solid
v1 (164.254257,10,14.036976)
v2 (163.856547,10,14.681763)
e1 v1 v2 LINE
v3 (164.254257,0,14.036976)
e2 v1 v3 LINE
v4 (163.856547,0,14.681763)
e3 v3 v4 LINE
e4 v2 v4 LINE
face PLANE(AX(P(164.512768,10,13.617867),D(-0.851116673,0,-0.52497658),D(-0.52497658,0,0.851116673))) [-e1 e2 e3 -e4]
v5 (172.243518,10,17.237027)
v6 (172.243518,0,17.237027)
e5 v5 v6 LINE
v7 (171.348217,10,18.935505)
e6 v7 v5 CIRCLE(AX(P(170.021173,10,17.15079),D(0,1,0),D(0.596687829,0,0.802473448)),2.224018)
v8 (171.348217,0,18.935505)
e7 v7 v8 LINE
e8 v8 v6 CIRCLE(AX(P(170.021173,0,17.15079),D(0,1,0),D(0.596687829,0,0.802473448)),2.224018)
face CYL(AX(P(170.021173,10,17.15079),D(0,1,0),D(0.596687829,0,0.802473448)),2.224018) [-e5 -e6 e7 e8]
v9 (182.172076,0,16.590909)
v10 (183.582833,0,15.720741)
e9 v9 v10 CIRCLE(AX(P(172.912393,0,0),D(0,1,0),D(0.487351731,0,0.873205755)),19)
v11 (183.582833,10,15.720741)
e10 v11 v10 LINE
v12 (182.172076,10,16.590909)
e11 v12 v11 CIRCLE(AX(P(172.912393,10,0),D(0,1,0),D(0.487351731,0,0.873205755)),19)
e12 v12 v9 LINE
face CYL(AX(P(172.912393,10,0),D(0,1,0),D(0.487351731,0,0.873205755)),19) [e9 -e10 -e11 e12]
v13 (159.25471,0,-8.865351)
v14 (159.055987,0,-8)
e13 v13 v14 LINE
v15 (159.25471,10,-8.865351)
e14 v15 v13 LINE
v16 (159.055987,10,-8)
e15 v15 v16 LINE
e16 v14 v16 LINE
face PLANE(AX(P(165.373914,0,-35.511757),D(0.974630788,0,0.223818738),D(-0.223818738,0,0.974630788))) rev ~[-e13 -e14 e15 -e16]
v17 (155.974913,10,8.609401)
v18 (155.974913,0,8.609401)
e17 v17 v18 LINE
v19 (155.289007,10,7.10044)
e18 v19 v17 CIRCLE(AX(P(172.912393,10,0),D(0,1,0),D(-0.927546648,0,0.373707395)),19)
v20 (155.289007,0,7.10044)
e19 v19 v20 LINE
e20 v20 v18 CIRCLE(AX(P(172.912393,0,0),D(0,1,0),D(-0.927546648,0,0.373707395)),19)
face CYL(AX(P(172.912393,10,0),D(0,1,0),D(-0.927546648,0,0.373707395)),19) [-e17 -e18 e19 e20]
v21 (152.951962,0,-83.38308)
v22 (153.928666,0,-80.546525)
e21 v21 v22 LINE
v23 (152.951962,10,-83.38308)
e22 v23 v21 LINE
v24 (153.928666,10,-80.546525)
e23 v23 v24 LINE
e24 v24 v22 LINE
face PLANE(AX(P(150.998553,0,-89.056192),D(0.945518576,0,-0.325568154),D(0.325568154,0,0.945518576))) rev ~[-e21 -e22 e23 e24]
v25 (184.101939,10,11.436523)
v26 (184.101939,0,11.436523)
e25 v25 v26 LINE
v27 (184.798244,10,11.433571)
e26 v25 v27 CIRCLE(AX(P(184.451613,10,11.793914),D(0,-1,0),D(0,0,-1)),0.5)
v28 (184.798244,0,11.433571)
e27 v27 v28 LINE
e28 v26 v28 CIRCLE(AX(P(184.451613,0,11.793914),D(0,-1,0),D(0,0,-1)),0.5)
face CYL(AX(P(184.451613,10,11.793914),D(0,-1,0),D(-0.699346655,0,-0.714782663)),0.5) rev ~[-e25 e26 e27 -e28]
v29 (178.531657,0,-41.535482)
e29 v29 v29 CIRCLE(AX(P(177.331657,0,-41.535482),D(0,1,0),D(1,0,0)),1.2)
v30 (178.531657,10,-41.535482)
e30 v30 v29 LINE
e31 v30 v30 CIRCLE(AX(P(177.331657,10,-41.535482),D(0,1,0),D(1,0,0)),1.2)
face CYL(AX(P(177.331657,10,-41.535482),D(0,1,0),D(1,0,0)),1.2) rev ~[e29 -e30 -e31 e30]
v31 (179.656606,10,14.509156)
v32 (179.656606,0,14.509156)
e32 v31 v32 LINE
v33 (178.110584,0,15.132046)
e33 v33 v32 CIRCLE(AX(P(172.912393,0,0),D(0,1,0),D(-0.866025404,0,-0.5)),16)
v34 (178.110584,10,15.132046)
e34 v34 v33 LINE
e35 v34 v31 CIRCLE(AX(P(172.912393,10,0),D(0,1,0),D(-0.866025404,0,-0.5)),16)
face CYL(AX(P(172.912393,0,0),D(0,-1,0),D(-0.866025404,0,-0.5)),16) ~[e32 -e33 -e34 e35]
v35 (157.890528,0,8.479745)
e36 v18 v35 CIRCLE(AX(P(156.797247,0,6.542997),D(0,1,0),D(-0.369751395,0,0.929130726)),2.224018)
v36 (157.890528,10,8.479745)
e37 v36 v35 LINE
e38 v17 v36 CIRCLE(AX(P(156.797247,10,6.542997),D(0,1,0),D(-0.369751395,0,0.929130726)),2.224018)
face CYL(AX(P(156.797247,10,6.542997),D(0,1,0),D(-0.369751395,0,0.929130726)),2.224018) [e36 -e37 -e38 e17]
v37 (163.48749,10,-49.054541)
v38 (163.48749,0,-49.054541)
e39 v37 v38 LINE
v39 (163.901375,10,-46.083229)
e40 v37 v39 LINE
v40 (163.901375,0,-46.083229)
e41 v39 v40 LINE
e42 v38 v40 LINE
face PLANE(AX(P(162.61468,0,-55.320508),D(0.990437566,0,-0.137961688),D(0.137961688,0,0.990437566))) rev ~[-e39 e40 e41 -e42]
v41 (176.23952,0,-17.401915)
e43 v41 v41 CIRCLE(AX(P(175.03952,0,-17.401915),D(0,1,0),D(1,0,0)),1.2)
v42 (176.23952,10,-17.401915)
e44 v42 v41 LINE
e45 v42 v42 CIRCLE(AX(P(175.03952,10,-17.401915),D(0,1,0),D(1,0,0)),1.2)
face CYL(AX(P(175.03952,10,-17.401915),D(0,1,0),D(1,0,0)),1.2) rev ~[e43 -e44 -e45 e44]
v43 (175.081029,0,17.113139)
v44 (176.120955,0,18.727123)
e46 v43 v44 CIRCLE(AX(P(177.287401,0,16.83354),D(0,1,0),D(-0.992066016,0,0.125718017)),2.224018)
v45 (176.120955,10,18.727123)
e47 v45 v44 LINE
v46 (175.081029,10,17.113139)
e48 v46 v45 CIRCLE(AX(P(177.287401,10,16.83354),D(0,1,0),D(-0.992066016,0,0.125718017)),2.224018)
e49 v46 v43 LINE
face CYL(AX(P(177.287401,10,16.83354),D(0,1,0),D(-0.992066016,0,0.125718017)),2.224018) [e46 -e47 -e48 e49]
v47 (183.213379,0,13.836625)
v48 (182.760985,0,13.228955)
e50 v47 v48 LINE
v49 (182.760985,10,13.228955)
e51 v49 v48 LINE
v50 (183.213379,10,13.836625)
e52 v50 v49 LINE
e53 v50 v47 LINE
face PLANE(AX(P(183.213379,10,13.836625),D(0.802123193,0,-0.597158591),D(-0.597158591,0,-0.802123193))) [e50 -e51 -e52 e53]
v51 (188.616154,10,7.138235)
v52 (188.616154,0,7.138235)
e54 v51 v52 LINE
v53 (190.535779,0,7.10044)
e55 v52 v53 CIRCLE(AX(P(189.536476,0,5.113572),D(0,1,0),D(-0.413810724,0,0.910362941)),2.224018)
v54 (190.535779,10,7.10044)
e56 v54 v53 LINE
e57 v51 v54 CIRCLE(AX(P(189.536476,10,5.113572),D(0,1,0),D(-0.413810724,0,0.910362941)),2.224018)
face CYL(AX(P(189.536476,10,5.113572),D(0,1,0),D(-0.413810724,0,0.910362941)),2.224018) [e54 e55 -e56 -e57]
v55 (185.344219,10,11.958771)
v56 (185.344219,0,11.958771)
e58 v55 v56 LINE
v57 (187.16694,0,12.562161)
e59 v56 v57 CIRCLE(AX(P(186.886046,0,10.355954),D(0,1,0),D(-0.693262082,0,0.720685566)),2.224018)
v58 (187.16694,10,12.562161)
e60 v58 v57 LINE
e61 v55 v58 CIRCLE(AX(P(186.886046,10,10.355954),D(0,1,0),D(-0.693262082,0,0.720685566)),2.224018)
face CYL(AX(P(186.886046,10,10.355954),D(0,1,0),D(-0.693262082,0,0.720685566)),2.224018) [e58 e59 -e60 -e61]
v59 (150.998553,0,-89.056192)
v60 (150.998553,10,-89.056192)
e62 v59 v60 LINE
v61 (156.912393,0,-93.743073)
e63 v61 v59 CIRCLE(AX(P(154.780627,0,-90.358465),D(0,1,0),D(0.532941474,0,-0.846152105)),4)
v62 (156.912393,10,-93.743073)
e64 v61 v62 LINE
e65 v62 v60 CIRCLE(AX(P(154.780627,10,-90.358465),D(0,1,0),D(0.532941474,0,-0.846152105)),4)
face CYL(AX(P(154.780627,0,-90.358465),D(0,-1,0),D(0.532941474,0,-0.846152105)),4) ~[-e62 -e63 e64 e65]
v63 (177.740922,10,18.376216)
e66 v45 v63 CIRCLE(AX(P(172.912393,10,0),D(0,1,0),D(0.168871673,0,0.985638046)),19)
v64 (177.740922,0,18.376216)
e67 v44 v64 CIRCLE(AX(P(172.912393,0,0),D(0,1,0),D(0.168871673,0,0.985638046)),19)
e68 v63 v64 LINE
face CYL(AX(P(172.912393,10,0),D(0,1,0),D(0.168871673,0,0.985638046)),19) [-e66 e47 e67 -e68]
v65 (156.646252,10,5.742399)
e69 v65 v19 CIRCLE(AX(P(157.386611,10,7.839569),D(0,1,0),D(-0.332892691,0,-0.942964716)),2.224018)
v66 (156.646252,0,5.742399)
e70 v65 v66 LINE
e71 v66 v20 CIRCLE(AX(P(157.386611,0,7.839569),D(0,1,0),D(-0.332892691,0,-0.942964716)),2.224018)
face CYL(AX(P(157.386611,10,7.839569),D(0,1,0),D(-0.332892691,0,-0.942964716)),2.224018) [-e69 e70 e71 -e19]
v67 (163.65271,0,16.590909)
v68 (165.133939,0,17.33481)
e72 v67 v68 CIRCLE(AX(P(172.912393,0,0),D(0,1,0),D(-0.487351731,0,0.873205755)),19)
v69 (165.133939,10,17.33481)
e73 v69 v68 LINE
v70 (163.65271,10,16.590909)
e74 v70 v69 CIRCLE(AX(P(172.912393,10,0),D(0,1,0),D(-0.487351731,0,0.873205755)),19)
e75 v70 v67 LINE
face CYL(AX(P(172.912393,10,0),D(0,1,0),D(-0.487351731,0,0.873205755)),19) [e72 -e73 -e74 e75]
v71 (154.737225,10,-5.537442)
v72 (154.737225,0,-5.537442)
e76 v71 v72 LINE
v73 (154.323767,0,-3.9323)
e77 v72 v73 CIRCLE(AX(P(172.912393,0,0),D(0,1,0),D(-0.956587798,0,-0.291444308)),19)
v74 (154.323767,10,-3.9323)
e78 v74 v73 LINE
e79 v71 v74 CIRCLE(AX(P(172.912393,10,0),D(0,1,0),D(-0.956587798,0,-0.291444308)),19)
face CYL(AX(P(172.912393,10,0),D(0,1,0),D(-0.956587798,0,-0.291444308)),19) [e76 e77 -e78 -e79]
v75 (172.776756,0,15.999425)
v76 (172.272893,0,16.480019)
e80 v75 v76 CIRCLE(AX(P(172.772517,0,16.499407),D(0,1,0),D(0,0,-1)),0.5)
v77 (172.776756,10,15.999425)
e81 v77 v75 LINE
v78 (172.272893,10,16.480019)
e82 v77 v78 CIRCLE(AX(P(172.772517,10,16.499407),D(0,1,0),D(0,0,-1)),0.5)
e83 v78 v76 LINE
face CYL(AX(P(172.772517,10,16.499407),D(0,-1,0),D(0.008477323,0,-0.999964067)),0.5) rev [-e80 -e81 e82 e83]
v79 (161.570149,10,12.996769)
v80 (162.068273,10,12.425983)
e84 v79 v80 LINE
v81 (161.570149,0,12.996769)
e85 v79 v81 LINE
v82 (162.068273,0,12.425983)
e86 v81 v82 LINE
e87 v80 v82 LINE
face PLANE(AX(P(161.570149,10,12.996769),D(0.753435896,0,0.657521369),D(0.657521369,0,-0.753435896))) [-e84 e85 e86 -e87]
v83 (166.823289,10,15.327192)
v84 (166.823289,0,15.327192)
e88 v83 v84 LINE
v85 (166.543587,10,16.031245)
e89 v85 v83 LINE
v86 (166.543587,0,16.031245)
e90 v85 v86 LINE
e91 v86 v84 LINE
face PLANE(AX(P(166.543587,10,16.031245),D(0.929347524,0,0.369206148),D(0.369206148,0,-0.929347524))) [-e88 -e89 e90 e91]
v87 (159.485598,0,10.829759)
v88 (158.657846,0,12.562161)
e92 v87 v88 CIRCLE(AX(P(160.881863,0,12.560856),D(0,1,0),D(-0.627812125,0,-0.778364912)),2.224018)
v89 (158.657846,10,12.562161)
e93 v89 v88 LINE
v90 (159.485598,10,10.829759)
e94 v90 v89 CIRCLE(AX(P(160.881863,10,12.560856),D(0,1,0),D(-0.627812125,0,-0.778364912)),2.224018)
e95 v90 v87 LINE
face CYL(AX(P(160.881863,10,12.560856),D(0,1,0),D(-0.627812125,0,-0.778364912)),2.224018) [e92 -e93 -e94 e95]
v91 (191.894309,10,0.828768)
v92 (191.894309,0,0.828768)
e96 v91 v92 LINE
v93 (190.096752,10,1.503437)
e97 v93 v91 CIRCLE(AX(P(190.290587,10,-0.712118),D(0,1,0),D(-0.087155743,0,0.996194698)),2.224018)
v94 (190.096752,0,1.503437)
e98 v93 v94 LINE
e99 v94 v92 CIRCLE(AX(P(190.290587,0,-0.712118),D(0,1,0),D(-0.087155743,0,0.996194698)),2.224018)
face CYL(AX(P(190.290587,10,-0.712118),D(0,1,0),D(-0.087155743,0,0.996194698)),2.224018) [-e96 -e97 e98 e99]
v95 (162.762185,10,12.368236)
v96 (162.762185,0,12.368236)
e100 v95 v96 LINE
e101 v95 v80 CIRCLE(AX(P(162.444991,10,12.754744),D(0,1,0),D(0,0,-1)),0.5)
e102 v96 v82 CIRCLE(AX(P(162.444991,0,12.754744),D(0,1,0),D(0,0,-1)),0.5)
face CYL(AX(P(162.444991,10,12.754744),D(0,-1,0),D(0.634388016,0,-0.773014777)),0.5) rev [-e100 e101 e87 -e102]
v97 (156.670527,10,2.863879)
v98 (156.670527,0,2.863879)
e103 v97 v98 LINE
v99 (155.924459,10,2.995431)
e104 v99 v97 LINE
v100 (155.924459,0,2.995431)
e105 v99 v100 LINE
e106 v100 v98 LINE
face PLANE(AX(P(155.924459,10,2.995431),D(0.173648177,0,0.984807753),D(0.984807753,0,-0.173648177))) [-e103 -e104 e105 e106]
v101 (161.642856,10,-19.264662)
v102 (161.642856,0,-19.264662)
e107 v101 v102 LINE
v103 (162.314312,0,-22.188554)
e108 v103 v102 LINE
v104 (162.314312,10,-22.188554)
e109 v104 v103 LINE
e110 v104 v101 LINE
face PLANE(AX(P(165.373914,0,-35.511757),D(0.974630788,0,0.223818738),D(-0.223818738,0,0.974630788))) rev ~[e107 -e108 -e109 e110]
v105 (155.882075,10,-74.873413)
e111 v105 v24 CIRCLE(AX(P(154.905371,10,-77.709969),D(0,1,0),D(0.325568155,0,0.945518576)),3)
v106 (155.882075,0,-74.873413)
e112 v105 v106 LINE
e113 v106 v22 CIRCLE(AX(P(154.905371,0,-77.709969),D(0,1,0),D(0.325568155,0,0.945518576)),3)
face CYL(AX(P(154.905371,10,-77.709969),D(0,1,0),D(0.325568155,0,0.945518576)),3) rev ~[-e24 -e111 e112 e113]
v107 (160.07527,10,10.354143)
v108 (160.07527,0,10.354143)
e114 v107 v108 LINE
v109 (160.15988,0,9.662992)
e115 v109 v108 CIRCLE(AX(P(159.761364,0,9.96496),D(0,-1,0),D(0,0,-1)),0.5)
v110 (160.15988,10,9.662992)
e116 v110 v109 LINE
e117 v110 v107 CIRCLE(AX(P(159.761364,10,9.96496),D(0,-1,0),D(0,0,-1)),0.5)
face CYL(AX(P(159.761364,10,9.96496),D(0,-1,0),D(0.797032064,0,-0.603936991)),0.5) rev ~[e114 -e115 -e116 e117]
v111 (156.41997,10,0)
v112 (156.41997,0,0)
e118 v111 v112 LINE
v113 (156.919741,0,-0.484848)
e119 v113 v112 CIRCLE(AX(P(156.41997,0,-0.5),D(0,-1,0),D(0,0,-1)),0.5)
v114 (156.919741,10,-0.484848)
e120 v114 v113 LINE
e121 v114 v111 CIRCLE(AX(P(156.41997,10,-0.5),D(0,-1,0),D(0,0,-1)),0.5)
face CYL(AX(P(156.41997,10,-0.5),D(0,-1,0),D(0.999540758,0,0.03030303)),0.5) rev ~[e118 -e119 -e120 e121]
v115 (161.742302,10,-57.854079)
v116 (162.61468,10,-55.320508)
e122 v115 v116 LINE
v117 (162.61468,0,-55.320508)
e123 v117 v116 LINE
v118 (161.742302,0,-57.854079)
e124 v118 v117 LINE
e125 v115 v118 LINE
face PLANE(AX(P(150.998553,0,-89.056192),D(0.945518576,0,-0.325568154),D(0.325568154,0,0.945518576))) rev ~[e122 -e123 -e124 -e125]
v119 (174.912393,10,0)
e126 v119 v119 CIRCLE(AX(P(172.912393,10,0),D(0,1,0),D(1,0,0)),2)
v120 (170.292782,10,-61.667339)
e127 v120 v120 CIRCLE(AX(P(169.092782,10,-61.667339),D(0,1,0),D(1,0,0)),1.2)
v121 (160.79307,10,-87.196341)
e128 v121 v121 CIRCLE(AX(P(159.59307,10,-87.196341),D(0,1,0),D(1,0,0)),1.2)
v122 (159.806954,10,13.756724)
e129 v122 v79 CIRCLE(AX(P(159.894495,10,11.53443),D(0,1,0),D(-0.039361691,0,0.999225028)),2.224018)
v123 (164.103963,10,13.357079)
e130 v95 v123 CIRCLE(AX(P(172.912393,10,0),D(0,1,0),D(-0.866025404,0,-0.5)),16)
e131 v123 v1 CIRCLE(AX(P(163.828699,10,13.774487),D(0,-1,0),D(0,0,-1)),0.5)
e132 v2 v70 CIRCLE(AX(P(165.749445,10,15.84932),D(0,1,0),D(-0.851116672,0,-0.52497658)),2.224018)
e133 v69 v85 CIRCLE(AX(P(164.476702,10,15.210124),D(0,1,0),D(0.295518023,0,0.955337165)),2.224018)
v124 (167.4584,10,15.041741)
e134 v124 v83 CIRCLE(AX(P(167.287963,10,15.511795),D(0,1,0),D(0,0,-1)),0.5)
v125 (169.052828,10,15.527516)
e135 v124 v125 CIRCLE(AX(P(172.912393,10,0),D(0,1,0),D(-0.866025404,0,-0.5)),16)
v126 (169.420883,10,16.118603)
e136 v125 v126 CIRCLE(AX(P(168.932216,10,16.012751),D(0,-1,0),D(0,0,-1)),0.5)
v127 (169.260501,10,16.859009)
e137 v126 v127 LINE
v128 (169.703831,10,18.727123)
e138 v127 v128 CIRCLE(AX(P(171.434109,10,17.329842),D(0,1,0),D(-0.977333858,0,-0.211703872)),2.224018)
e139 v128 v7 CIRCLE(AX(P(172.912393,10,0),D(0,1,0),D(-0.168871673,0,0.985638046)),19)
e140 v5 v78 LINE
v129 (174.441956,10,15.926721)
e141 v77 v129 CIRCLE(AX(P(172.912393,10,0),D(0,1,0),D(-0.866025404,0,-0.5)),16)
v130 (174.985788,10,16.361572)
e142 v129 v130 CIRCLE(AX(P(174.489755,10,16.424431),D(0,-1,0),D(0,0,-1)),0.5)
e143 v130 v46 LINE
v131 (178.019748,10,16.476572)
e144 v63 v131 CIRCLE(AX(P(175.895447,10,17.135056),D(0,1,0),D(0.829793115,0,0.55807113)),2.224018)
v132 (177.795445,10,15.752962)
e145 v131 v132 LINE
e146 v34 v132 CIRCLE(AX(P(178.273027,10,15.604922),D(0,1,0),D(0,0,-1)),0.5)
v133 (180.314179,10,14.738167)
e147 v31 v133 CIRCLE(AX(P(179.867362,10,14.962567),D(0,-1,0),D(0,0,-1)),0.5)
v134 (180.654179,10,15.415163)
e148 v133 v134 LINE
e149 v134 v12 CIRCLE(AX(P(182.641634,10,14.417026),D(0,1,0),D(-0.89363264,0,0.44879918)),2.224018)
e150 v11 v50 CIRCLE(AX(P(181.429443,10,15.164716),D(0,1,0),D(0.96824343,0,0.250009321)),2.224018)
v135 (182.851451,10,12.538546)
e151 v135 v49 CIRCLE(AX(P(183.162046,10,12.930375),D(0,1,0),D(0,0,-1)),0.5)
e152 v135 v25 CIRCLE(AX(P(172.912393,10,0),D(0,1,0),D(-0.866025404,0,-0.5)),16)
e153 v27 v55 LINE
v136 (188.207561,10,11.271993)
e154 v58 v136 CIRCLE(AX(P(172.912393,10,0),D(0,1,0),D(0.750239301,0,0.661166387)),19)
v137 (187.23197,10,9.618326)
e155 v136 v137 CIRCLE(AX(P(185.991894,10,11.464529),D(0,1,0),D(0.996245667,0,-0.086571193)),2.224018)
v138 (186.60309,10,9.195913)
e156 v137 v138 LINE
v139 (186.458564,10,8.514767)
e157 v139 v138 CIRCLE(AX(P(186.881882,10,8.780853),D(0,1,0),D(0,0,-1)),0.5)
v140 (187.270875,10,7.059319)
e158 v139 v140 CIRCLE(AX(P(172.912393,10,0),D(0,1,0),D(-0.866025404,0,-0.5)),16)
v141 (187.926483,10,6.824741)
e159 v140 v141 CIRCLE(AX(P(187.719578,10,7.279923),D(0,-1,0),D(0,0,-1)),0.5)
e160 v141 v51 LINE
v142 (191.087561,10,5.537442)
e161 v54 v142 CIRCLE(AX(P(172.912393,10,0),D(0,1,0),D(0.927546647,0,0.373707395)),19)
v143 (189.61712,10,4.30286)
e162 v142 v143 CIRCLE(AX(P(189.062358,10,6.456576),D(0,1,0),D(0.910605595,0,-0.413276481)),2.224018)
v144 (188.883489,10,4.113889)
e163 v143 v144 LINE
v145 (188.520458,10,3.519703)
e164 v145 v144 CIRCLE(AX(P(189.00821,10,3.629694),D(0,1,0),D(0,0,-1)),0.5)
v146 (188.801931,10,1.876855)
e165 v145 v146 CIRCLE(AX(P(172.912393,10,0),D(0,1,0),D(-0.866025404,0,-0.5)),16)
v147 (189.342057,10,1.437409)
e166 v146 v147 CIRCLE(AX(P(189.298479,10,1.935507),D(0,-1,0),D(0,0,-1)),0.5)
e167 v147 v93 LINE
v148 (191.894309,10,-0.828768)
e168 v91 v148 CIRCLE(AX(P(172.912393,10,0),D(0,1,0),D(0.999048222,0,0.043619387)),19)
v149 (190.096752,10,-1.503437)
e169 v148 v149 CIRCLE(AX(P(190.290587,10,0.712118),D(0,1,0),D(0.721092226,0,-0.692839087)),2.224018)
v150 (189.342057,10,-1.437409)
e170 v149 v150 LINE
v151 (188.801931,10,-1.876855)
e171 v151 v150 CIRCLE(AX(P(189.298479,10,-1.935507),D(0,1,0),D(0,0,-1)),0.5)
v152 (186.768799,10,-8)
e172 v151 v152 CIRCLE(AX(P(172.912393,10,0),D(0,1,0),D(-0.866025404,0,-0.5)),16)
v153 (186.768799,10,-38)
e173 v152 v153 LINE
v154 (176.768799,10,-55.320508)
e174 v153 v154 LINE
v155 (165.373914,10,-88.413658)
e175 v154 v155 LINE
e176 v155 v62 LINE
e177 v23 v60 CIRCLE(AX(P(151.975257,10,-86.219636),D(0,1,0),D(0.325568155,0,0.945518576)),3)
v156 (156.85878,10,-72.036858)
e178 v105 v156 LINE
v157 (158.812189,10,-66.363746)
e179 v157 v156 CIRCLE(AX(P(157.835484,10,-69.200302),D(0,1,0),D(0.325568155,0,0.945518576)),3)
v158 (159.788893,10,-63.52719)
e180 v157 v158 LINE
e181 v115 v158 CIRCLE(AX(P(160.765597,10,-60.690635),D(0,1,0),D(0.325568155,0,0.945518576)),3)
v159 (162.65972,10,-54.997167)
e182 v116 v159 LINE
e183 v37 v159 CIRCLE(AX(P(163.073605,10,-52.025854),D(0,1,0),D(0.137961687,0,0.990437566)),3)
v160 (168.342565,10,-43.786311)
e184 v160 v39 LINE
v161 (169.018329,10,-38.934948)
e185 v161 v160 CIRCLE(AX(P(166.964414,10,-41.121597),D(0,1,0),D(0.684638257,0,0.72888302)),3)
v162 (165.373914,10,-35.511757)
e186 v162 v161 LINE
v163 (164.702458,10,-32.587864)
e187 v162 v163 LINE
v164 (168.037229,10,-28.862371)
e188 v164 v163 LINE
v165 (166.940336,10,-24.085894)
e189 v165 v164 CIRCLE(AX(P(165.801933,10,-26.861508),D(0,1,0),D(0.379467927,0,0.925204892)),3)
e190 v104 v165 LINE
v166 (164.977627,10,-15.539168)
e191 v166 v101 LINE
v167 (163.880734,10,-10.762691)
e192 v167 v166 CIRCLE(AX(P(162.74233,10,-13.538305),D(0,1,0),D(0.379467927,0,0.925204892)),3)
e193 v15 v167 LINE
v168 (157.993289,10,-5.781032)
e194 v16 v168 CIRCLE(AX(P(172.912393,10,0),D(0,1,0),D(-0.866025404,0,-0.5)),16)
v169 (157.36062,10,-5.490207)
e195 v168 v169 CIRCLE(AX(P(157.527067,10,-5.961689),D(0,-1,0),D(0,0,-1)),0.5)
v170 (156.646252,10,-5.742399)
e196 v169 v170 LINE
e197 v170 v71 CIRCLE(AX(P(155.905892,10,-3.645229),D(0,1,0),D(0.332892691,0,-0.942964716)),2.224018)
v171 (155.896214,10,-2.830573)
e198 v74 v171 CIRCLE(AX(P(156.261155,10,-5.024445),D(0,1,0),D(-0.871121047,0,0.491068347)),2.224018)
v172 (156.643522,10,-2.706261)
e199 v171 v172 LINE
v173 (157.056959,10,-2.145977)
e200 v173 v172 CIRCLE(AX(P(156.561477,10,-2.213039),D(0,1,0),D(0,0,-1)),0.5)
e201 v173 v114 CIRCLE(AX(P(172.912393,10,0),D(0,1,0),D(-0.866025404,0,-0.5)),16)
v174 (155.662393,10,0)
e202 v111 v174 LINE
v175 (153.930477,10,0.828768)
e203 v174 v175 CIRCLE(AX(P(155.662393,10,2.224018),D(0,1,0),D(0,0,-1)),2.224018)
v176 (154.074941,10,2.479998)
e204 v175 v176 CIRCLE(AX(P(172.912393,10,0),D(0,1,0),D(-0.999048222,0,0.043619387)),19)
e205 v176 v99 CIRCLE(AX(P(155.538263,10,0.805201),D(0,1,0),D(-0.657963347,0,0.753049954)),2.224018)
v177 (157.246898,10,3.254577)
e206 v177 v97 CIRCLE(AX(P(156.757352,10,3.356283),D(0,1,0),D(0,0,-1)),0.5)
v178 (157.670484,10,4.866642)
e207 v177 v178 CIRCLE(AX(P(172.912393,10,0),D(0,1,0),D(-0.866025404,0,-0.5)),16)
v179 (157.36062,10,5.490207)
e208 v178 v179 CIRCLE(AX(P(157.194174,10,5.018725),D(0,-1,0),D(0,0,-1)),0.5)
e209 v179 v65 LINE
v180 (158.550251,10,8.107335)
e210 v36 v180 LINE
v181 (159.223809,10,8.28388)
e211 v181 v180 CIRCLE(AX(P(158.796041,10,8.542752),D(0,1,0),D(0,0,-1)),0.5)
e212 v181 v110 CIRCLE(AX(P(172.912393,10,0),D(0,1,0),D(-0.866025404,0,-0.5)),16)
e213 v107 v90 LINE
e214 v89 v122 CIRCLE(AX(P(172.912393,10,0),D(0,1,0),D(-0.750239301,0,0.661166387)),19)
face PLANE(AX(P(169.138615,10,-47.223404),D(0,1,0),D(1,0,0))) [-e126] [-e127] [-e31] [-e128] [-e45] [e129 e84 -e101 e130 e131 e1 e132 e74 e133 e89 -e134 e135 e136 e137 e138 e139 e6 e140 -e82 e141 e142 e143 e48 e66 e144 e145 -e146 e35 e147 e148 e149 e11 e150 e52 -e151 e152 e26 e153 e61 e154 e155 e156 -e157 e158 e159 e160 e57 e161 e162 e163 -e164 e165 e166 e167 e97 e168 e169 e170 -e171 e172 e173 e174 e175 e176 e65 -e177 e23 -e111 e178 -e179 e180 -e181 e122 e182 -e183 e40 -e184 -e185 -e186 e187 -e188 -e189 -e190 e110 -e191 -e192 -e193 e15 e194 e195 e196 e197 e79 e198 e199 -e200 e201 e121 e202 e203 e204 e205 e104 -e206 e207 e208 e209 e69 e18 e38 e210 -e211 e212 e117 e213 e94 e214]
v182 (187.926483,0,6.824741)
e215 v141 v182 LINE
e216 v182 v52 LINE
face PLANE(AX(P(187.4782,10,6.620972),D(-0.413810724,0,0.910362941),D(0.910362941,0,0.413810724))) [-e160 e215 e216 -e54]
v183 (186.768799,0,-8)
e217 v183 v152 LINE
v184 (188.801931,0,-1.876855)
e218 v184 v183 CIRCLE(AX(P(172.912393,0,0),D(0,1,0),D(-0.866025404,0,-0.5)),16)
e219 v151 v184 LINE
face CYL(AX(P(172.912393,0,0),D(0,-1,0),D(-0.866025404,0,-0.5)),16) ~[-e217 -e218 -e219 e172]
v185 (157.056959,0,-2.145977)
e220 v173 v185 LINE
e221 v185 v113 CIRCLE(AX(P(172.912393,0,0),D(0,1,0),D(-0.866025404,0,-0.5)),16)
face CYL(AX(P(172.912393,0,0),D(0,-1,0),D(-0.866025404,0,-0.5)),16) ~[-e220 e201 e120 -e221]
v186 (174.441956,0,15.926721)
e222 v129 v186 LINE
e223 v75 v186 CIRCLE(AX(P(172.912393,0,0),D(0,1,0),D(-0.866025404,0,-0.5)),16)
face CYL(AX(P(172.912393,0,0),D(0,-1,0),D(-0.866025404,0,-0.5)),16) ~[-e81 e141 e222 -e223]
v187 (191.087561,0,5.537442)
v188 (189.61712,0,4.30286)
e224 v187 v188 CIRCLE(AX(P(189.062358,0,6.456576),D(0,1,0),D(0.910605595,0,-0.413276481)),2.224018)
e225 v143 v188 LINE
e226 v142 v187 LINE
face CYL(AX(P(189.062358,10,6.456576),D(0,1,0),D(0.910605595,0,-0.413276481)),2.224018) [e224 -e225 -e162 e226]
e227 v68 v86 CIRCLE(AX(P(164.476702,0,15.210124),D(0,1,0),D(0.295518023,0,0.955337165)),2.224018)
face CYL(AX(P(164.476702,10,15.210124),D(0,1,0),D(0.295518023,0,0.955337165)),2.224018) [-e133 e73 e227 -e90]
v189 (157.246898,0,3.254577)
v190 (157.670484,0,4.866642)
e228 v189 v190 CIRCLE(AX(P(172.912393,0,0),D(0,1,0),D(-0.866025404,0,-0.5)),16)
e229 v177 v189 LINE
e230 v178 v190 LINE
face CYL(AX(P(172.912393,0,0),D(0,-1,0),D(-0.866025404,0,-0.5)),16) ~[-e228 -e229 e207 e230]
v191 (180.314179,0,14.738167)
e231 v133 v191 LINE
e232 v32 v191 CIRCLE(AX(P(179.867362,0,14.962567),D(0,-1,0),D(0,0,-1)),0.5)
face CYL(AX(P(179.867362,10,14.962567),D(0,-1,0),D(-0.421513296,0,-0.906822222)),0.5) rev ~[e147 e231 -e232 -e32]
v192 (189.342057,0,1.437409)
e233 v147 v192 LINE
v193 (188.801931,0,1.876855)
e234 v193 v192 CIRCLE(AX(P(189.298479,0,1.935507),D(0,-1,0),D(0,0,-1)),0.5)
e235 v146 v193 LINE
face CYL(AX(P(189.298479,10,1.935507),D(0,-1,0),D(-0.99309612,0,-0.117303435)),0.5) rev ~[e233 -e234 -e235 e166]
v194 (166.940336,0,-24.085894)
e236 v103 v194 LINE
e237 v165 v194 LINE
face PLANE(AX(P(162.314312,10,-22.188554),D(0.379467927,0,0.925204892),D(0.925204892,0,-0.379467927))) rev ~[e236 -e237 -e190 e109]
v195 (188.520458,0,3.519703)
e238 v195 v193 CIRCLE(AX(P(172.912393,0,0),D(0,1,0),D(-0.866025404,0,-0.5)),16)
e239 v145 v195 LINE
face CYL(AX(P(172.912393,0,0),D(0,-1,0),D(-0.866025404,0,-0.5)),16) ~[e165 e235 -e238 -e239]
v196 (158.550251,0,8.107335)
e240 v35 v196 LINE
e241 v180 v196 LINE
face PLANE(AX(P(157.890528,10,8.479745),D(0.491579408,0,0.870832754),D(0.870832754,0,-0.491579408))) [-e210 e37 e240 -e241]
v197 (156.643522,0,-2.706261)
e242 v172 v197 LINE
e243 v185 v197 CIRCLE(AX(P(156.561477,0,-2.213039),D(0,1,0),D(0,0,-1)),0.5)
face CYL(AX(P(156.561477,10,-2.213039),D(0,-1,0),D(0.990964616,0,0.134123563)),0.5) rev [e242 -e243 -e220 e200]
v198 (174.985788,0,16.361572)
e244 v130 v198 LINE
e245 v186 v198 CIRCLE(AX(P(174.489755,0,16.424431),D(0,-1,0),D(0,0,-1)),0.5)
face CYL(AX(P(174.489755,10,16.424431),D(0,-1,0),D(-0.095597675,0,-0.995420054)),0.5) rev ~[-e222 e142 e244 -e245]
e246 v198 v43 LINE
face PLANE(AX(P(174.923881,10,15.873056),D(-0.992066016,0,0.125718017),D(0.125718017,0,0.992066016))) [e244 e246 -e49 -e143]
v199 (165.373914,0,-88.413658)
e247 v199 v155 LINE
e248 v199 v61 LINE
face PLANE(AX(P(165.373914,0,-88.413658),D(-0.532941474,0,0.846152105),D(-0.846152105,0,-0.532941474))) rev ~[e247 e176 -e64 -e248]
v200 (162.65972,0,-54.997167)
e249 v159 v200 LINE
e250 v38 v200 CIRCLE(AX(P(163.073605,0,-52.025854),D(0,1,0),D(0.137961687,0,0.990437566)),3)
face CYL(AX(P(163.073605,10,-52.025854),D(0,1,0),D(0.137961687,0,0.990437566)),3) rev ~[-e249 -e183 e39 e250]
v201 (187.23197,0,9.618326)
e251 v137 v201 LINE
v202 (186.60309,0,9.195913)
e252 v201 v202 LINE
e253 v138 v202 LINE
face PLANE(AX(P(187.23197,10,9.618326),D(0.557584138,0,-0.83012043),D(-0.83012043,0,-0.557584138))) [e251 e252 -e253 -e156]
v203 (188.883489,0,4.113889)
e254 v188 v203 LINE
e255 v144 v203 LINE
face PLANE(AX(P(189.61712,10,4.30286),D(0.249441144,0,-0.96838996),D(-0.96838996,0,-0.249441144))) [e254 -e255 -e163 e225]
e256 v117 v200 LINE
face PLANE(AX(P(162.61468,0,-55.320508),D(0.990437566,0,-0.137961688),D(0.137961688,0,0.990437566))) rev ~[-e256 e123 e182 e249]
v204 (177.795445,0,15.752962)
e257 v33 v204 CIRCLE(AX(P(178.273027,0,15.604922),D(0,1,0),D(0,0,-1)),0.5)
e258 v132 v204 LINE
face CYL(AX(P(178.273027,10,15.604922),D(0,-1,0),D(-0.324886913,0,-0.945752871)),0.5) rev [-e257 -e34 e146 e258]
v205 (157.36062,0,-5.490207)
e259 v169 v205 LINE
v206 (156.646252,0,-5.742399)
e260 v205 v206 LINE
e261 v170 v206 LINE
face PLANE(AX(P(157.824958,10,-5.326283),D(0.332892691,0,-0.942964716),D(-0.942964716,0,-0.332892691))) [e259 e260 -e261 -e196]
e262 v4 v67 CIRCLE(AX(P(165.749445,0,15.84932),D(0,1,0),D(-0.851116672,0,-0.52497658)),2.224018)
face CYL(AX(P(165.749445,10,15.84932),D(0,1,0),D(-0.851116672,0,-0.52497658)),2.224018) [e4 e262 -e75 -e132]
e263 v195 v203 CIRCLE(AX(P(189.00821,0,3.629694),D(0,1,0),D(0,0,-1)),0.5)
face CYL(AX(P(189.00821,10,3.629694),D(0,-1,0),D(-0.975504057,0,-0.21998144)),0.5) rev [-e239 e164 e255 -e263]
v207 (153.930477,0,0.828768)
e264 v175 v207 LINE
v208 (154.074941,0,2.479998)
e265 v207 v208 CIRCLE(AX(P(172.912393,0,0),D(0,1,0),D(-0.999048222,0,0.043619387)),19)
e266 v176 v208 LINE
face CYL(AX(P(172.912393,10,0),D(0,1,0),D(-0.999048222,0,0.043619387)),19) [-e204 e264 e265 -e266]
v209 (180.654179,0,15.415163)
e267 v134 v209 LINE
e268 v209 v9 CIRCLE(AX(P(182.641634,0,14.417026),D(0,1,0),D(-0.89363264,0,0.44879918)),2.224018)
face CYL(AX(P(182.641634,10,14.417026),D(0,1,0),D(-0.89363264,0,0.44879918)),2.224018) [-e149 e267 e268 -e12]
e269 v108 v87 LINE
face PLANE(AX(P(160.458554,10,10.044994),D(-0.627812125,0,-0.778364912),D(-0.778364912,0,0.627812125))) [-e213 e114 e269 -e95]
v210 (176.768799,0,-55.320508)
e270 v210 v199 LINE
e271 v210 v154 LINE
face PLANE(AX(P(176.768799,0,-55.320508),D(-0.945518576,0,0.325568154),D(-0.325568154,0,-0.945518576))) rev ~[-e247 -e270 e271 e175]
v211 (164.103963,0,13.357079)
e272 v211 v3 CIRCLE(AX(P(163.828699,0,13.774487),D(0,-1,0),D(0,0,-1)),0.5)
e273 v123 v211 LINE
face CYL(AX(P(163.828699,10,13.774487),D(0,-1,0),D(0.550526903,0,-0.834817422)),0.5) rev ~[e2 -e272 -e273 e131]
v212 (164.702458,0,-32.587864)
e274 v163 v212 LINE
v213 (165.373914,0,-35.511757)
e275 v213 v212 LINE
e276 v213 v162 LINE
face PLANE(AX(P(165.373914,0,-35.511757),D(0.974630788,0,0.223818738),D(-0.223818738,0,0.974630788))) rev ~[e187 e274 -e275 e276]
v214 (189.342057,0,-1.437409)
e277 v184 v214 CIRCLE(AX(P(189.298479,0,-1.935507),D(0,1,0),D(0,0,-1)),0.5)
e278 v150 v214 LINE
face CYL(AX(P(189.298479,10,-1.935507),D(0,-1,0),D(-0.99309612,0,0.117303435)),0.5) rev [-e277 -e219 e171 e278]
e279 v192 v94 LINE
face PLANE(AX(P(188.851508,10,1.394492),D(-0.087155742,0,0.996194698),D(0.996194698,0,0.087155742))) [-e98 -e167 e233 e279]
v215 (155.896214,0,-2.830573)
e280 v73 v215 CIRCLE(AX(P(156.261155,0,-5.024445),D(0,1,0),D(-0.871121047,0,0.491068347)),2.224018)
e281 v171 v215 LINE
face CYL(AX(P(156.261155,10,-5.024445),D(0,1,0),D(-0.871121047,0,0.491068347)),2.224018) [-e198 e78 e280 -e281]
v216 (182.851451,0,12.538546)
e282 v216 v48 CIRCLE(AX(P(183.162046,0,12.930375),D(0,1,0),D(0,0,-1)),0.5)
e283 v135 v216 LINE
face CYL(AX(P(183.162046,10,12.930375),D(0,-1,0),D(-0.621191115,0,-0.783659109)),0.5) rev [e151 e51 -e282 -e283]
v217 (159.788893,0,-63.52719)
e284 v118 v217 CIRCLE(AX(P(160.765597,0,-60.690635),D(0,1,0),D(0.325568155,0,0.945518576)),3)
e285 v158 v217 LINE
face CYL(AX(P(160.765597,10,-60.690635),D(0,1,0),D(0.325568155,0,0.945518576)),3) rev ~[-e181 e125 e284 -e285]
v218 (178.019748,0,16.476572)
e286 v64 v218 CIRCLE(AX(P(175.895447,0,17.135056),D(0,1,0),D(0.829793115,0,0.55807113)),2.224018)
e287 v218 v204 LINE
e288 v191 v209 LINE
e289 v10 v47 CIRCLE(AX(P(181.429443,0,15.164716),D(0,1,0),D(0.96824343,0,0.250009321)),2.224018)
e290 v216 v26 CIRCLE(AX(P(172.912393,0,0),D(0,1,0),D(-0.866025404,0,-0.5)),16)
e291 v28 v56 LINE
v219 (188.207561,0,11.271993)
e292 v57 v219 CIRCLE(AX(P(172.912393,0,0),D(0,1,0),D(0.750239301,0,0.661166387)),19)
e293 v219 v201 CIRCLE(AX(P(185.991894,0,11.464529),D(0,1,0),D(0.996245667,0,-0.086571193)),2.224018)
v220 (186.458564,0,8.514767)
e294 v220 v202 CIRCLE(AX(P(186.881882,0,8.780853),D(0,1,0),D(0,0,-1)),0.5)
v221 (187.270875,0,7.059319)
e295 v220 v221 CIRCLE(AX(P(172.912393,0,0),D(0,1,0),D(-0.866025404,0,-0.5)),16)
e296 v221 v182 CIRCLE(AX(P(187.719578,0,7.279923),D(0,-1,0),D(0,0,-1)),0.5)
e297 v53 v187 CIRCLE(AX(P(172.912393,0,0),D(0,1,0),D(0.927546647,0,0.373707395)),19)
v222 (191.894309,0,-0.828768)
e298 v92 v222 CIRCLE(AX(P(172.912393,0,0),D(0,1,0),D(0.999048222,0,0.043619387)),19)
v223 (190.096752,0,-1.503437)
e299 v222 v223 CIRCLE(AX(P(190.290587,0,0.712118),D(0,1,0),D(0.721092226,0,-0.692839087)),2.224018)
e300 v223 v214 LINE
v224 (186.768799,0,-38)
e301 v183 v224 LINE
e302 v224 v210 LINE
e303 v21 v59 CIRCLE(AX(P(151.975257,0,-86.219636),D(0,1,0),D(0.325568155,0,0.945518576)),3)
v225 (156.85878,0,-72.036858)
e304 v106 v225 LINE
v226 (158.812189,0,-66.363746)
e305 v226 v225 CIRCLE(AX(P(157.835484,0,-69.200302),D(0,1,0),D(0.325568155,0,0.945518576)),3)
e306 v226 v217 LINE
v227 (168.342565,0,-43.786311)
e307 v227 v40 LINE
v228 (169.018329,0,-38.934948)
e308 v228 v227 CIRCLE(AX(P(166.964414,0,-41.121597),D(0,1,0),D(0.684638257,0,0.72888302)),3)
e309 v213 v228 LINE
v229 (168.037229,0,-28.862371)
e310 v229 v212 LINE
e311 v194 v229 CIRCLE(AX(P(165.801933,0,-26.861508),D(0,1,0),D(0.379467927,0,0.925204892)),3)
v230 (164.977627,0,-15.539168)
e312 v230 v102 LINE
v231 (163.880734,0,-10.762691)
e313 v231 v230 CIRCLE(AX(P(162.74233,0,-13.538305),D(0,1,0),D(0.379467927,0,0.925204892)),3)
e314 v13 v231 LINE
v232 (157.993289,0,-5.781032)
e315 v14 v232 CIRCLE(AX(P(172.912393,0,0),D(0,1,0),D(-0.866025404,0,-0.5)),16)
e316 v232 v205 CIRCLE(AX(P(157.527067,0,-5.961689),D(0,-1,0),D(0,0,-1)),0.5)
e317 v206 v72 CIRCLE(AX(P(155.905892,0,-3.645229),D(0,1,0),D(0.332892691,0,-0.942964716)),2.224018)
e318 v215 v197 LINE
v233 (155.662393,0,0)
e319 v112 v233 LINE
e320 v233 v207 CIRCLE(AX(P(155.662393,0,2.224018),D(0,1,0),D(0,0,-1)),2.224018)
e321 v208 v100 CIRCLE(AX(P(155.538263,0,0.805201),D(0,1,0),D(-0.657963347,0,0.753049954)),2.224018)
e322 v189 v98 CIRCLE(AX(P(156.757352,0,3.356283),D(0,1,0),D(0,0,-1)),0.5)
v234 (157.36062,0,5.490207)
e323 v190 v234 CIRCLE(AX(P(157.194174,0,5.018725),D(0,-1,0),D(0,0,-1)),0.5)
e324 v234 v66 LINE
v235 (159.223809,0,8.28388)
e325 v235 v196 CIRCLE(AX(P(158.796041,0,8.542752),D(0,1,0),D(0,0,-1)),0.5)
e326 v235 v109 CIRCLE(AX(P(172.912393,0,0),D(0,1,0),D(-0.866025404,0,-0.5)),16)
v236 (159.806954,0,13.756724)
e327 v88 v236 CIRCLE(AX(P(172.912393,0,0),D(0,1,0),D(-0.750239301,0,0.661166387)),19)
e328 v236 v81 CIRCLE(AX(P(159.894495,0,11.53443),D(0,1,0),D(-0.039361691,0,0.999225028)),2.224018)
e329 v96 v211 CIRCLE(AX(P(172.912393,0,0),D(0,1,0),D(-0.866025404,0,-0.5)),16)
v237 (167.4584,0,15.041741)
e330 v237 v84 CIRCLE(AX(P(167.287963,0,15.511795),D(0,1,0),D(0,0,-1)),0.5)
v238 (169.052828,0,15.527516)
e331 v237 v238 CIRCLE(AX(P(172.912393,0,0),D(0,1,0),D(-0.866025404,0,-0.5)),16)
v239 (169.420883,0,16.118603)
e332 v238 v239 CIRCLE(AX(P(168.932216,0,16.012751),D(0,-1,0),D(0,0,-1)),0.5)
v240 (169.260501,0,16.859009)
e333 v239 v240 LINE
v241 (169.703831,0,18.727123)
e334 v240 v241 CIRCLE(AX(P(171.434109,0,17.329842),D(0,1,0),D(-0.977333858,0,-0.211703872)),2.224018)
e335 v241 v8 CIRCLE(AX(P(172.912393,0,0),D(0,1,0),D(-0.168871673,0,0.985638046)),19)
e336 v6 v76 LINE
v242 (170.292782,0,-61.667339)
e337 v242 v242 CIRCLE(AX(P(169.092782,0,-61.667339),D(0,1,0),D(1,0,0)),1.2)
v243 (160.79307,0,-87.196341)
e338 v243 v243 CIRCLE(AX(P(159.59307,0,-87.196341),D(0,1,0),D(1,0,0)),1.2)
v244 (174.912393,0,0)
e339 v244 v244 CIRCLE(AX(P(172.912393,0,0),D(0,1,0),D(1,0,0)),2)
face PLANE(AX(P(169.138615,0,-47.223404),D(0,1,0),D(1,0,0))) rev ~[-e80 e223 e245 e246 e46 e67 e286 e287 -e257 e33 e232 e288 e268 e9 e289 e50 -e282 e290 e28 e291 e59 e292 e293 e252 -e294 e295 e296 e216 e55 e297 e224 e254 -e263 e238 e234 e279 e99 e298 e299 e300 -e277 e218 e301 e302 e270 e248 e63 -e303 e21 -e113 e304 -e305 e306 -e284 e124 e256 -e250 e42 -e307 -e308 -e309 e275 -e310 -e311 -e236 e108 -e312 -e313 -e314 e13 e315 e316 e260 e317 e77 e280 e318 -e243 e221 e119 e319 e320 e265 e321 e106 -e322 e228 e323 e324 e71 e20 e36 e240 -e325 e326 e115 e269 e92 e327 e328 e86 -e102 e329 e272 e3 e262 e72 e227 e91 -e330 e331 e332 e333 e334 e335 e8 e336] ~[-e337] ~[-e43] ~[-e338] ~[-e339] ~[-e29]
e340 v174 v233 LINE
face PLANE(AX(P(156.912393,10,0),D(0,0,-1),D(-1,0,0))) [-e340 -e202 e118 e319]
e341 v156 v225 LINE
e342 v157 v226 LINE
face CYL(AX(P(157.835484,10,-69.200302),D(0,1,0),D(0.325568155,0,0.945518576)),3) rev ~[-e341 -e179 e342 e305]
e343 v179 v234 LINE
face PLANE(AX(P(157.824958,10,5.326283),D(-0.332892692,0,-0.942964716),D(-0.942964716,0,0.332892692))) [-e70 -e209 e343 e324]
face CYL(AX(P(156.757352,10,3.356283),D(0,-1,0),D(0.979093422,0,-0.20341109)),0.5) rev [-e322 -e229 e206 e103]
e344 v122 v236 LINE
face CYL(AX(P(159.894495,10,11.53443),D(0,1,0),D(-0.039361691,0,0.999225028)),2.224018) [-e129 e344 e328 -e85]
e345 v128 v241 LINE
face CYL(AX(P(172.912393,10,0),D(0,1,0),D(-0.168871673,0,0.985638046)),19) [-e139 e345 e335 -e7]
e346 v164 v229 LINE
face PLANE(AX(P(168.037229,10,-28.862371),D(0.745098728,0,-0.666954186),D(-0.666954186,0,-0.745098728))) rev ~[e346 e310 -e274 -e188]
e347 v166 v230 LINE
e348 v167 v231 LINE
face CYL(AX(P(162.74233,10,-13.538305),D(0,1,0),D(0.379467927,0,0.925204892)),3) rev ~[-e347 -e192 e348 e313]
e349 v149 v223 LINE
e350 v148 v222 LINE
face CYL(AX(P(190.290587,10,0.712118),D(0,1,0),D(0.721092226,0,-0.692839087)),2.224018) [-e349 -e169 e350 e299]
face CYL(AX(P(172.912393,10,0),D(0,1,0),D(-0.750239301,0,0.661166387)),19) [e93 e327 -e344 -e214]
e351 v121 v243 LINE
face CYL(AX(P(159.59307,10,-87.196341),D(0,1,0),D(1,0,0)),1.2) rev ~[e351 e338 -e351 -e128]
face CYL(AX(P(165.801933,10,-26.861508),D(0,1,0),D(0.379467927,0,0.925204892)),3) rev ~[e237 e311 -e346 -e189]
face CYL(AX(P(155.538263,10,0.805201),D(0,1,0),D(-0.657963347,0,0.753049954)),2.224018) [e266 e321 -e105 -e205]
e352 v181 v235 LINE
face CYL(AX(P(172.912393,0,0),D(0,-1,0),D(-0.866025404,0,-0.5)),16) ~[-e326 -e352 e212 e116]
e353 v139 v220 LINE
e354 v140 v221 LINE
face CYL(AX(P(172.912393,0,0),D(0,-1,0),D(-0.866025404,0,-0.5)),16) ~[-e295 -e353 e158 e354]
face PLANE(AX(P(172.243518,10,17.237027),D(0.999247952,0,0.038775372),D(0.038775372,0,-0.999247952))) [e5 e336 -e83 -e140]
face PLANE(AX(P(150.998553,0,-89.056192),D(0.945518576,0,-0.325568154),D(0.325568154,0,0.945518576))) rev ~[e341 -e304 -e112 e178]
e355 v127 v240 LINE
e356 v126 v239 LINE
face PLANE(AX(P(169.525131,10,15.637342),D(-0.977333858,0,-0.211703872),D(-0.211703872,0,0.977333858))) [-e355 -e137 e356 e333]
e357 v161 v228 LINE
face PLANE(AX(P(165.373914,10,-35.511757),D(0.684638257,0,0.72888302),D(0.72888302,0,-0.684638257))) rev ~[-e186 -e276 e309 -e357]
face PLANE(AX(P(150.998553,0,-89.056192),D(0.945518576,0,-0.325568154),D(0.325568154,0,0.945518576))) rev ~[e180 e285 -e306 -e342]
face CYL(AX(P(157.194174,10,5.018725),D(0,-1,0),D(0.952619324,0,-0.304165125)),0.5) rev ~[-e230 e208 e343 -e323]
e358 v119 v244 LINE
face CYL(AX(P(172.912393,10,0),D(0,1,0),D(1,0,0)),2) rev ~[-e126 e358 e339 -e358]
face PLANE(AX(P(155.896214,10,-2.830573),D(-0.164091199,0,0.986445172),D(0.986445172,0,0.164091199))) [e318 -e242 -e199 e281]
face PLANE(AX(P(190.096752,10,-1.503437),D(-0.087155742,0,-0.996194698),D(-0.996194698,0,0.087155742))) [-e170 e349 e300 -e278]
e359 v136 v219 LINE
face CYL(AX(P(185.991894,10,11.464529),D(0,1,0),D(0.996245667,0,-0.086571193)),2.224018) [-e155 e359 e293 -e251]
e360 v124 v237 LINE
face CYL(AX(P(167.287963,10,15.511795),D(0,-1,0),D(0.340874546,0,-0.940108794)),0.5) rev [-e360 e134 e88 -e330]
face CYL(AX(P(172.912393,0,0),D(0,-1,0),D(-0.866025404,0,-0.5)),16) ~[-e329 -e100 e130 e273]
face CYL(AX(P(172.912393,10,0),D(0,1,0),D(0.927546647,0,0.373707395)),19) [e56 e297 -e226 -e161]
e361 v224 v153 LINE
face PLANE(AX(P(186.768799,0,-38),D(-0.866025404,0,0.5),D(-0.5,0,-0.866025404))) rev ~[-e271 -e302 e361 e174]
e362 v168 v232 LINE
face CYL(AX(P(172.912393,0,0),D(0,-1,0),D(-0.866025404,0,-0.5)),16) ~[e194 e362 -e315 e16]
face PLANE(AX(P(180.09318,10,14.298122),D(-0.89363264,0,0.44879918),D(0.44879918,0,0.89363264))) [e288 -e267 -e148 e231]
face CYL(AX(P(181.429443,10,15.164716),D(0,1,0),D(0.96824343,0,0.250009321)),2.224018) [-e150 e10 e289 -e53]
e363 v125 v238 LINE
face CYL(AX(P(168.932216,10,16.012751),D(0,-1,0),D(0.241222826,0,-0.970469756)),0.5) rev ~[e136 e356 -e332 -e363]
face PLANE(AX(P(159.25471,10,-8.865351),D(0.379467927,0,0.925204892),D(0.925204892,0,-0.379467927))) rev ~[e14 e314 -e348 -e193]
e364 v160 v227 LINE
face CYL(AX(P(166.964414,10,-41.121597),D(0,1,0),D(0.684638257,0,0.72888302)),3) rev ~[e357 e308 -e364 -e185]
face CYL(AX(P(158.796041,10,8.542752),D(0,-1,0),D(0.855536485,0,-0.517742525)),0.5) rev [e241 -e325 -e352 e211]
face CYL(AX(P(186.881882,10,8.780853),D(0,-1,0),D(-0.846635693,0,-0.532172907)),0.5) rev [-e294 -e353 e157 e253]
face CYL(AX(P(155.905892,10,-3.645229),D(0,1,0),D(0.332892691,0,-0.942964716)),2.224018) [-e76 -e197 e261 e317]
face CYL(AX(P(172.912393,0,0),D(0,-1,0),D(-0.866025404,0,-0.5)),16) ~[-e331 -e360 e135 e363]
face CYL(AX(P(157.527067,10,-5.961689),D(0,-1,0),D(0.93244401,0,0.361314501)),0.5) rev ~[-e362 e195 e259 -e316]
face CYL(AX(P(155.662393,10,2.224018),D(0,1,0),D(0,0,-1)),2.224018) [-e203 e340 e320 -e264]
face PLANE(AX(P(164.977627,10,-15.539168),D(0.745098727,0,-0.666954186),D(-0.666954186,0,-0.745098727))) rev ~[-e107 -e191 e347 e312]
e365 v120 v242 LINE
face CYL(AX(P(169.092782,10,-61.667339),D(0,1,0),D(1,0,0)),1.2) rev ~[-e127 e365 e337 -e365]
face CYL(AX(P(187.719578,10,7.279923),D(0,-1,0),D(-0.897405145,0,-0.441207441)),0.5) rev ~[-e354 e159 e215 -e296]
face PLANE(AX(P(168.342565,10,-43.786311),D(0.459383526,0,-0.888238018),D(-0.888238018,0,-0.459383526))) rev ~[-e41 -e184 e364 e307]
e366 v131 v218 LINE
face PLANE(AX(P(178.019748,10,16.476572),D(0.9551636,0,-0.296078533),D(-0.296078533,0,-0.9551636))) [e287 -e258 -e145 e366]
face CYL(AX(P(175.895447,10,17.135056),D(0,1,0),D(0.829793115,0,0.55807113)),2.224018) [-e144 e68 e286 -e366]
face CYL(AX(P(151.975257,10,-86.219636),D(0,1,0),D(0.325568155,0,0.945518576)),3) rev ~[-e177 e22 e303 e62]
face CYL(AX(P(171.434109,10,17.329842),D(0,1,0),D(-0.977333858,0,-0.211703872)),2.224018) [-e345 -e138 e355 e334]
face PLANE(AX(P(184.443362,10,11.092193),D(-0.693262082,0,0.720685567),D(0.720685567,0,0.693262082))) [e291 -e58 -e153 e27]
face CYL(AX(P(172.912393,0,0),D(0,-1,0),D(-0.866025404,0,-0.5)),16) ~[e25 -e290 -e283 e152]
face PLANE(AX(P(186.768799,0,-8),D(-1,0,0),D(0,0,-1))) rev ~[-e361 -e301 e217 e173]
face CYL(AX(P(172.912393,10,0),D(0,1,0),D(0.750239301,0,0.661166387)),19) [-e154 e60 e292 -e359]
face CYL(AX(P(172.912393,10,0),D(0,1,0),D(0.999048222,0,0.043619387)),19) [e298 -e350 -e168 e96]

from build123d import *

# Parameters (mm, degrees)
SKETCH1_R                = 16
BOSS_EXTRUDE1_DEPTH      = 10
CUT_EXTRUDE1_DEPTH       = 10
BOSS_EXTRUDE2_DEPTH      = 10
FILLET1_R                = 0.5
CIRPATTERN1_COUNT        = 19
CIRPATTERN1_ANGLE        = 350
FILLET1_OF_CIRPATTERN1_R = 0.5
SKETCH4_R                = 2
CUT_EXTRUDE2_DEPTH       = 11
SKETCH5_R                = 1.2
CUT_EXTRUDE3_DEPTH       = 11


with BuildPart() as part:
    # Sketch1 → Boss-Extrude1 (new body)
    with BuildSketch(Plane(origin=(0, 0, 0), x_dir=(1, 0, 0), z_dir=(0, 1, 0))):
        with BuildLine():
            Line((162.614680299, 55.320508076), (165.373914051, 35.511756749))
            Line((165.373914051, 35.511756749), (159.055986536, 8))
            ThreePointArc((159.055986536, 8), (172.912392996, 16), (186.768799457, 8))
            Line((186.768799457, 8), (186.768799457, 38))
            Line((186.768799457, 38), (176.768799457, 55.320508076))
            Line((176.768799457, 55.320508076), (165.373914051, 88.413658222))
            Line((165.373914051, 88.413658222), (156.912392996, 93.743072959))
            ThreePointArc((156.912392996, 93.743072959), (152.296156749, 93.493334083), (150.998552799, 89.056191919))
            Line((150.998552799, 89.056191919), (162.614680299, 55.320508076))
        make_face()
        with Locations((172.912392996, 0)):
            Circle(SKETCH1_R)
    extrude(amount=BOSS_EXTRUDE1_DEPTH)

    # Sketch2 → Cut-Extrude1 (cut)
    with BuildSketch(Plane(origin=(0, 10, 0), x_dir=(1, 0, 0), z_dir=(0, 1, 0))):
        with BuildLine():
            Line((150.998552799, 89.056191919), (152.951961726, 83.383080466))
            ThreePointArc((152.951961726, 83.383080466), (154.811812989, 87.196340656), (150.998552799, 89.056191919))
        make_face()
        with BuildLine():
            Line((153.928666189, 80.546524739), (155.882075116, 74.873413285))
            ThreePointArc((155.882075116, 74.873413285), (157.741926379, 78.686673476), (153.928666189, 80.546524739))
        make_face()
        with BuildLine():
            Line((156.858779579, 72.036857559), (158.812188506, 66.363746105))
            ThreePointArc((158.812188506, 66.363746105), (160.672039769, 70.177006295), (156.858779579, 72.036857559))
        make_face()
        with BuildLine():
            Line((159.788892969, 63.527190378), (161.742301896, 57.854078925))
            ThreePointArc((161.742301896, 57.854078925), (163.602153159, 61.667339115), (159.788892969, 63.527190378))
        make_face()
        with BuildLine():
            Line((162.659719683, 54.997166876), (163.487489808, 49.054541478))
            ThreePointArc((163.487489808, 49.054541478), (166.044917445, 52.43973924), (162.659719683, 54.997166876))
        make_face()
        with BuildLine():
            Line((163.901374871, 46.083228779), (165.373914051, 35.511756749))
            Line((165.373914051, 35.511756749), (169.018329151, 38.934948035))
            ThreePointArc((169.018329151, 38.934948035), (169.935727078, 41.535482158), (168.342564959, 43.786311148))
            Line((168.342564959, 43.786311148), (163.901374871, 46.083228779))
        make_face()
        with BuildLine():
            Line((168.037228767, 28.862370748), (164.702457837, 32.587864386))
            Line((164.702457837, 32.587864386), (162.314311904, 22.18855388))
            Line((162.314311904, 22.18855388), (166.940336365, 24.085893514))
            ThreePointArc((166.940336365, 24.085893514), (168.725824948, 26.190051977), (168.037228767, 28.862370748))
        make_face()
        with BuildLine():
            Line((164.977626621, 15.539167879), (161.642855691, 19.264661516))
            Line((161.642855691, 19.264661516), (159.254709758, 8.86535101))
            Line((159.254709758, 8.86535101), (163.880734219, 10.762690644))
            ThreePointArc((163.880734219, 10.762690644), (165.666222802, 12.866849107), (164.977626621, 15.539167879))
        make_face()
    extrude(amount=-CUT_EXTRUDE1_DEPTH, mode=Mode.SUBTRACT)

    # Sketch3 → Boss-Extrude2 (add)
    with BuildSketch(Plane(origin=(0, 10, 0), x_dir=(1, 0, 0), z_dir=(0, 1, 0))):
        with BuildLine():
            Line((190.096751538, 1.503436562), (188.851508166, 1.394491884))
            ThreePointArc((188.851508166, 1.394491884), (188.912392996, 0), (188.851508166, -1.394491884))
            Line((188.851508166, -1.394491884), (190.096751538, -1.503436562))
            ThreePointArc((190.096751538, -1.503436562), (191.072085254, -1.370072078), (191.894309206, -0.82876836))
            ThreePointArc((191.894309206, -0.82876836), (191.912392996, 0), (191.894309206, 0.82876836))
            ThreePointArc((191.894309206, 0.82876836), (191.072085254, 1.370072078), (190.096751538, 1.503436562))
        make_face()
    boss_extrude2 = extrude(amount=-BOSS_EXTRUDE2_DEPTH)

    # Fillet1
    fillet1_edges = [part.edges().sort_by_distance(p)[0] for p in [
        (188.851508166, 5, 1.394491884),
        (188.851508166, 5, -1.394491884),
    ]]
    fillet(fillet1_edges, radius=FILLET1_R)

    # CirPattern1: Boss-Extrude2 ×19 about axis, 8 skipped
    cirpattern1_axis = Axis((172.912392996, 0, 0), (0, -1, 0))
    add([boss_extrude2.rotate(cirpattern1_axis, i * CIRPATTERN1_ANGLE / (CIRPATTERN1_COUNT - 1)) for i in range(1, CIRPATTERN1_COUNT) if i not in (11, 12, 13, 14, 15, 16, 17, 18)])

    # Fillet1 of CirPattern1
    fillet1_of_cirpattern1_edges = [part.edges().sort_by_distance(p)[0] for p in [
        (187.478200052, 5, 6.620971592),
        (188.406632365, 5, 3.991058305),
        (184.443362059, 5, 11.092193312),
        (186.194319884, 5, 8.921346207),
        (180.093179879, 5, 14.298122245),
        (182.466930463, 5, 12.833971084),
        (174.923881264, 5, 15.873056257),
        (177.649649531, 5, 15.282617594),
        (169.52513104, 5, 15.637341732),
        (172.291987056, 5, 15.98796724),
        (164.512767711, 5, 13.617866759),
        (167.005094639, 5, 14.869560388),
        (160.458554405, 5, 10.044993995),
        (162.392051099, 5, 12.054974341),
        (157.824957537, 5, 5.326283064),
        (158.979068931, 5, 7.865270529),
        (156.912392996, 5, 0),
        (157.155468948, 5, 2.778370843),
        (157.824957537, 5, -5.326283064),
        (157.129270235, 5, -2.625459183),
    ]]
    fillet(fillet1_of_cirpattern1_edges, radius=FILLET1_OF_CIRPATTERN1_R)

    # Sketch4 → Cut-Extrude2 (cut, through all)
    with BuildSketch(Plane(origin=(0, 10, 0), x_dir=(1, 0, 0), z_dir=(0, 1, 0))):
        with Locations((172.912392996, 0)):
            Circle(SKETCH4_R)
    extrude(amount=-CUT_EXTRUDE2_DEPTH, mode=Mode.SUBTRACT)

    # Sketch5 → Cut-Extrude3 (cut, through all)
    with BuildSketch(Plane(origin=(0, 10, 0), x_dir=(1, 0, 0), z_dir=(0, 1, 0))):
        with Locations((169.092781716, 61.667339115)):
            Circle(SKETCH5_R)
        with Locations((177.33165748, 41.535482158)):
            Circle(SKETCH5_R)
        with Locations((175.039520306, 17.401914698)):
            Circle(SKETCH5_R)
        with Locations((159.593070103, 87.196340656)):
            Circle(SKETCH5_R)
    extrude(amount=-CUT_EXTRUDE3_DEPTH, mode=Mode.SUBTRACT)


solid = part.part
